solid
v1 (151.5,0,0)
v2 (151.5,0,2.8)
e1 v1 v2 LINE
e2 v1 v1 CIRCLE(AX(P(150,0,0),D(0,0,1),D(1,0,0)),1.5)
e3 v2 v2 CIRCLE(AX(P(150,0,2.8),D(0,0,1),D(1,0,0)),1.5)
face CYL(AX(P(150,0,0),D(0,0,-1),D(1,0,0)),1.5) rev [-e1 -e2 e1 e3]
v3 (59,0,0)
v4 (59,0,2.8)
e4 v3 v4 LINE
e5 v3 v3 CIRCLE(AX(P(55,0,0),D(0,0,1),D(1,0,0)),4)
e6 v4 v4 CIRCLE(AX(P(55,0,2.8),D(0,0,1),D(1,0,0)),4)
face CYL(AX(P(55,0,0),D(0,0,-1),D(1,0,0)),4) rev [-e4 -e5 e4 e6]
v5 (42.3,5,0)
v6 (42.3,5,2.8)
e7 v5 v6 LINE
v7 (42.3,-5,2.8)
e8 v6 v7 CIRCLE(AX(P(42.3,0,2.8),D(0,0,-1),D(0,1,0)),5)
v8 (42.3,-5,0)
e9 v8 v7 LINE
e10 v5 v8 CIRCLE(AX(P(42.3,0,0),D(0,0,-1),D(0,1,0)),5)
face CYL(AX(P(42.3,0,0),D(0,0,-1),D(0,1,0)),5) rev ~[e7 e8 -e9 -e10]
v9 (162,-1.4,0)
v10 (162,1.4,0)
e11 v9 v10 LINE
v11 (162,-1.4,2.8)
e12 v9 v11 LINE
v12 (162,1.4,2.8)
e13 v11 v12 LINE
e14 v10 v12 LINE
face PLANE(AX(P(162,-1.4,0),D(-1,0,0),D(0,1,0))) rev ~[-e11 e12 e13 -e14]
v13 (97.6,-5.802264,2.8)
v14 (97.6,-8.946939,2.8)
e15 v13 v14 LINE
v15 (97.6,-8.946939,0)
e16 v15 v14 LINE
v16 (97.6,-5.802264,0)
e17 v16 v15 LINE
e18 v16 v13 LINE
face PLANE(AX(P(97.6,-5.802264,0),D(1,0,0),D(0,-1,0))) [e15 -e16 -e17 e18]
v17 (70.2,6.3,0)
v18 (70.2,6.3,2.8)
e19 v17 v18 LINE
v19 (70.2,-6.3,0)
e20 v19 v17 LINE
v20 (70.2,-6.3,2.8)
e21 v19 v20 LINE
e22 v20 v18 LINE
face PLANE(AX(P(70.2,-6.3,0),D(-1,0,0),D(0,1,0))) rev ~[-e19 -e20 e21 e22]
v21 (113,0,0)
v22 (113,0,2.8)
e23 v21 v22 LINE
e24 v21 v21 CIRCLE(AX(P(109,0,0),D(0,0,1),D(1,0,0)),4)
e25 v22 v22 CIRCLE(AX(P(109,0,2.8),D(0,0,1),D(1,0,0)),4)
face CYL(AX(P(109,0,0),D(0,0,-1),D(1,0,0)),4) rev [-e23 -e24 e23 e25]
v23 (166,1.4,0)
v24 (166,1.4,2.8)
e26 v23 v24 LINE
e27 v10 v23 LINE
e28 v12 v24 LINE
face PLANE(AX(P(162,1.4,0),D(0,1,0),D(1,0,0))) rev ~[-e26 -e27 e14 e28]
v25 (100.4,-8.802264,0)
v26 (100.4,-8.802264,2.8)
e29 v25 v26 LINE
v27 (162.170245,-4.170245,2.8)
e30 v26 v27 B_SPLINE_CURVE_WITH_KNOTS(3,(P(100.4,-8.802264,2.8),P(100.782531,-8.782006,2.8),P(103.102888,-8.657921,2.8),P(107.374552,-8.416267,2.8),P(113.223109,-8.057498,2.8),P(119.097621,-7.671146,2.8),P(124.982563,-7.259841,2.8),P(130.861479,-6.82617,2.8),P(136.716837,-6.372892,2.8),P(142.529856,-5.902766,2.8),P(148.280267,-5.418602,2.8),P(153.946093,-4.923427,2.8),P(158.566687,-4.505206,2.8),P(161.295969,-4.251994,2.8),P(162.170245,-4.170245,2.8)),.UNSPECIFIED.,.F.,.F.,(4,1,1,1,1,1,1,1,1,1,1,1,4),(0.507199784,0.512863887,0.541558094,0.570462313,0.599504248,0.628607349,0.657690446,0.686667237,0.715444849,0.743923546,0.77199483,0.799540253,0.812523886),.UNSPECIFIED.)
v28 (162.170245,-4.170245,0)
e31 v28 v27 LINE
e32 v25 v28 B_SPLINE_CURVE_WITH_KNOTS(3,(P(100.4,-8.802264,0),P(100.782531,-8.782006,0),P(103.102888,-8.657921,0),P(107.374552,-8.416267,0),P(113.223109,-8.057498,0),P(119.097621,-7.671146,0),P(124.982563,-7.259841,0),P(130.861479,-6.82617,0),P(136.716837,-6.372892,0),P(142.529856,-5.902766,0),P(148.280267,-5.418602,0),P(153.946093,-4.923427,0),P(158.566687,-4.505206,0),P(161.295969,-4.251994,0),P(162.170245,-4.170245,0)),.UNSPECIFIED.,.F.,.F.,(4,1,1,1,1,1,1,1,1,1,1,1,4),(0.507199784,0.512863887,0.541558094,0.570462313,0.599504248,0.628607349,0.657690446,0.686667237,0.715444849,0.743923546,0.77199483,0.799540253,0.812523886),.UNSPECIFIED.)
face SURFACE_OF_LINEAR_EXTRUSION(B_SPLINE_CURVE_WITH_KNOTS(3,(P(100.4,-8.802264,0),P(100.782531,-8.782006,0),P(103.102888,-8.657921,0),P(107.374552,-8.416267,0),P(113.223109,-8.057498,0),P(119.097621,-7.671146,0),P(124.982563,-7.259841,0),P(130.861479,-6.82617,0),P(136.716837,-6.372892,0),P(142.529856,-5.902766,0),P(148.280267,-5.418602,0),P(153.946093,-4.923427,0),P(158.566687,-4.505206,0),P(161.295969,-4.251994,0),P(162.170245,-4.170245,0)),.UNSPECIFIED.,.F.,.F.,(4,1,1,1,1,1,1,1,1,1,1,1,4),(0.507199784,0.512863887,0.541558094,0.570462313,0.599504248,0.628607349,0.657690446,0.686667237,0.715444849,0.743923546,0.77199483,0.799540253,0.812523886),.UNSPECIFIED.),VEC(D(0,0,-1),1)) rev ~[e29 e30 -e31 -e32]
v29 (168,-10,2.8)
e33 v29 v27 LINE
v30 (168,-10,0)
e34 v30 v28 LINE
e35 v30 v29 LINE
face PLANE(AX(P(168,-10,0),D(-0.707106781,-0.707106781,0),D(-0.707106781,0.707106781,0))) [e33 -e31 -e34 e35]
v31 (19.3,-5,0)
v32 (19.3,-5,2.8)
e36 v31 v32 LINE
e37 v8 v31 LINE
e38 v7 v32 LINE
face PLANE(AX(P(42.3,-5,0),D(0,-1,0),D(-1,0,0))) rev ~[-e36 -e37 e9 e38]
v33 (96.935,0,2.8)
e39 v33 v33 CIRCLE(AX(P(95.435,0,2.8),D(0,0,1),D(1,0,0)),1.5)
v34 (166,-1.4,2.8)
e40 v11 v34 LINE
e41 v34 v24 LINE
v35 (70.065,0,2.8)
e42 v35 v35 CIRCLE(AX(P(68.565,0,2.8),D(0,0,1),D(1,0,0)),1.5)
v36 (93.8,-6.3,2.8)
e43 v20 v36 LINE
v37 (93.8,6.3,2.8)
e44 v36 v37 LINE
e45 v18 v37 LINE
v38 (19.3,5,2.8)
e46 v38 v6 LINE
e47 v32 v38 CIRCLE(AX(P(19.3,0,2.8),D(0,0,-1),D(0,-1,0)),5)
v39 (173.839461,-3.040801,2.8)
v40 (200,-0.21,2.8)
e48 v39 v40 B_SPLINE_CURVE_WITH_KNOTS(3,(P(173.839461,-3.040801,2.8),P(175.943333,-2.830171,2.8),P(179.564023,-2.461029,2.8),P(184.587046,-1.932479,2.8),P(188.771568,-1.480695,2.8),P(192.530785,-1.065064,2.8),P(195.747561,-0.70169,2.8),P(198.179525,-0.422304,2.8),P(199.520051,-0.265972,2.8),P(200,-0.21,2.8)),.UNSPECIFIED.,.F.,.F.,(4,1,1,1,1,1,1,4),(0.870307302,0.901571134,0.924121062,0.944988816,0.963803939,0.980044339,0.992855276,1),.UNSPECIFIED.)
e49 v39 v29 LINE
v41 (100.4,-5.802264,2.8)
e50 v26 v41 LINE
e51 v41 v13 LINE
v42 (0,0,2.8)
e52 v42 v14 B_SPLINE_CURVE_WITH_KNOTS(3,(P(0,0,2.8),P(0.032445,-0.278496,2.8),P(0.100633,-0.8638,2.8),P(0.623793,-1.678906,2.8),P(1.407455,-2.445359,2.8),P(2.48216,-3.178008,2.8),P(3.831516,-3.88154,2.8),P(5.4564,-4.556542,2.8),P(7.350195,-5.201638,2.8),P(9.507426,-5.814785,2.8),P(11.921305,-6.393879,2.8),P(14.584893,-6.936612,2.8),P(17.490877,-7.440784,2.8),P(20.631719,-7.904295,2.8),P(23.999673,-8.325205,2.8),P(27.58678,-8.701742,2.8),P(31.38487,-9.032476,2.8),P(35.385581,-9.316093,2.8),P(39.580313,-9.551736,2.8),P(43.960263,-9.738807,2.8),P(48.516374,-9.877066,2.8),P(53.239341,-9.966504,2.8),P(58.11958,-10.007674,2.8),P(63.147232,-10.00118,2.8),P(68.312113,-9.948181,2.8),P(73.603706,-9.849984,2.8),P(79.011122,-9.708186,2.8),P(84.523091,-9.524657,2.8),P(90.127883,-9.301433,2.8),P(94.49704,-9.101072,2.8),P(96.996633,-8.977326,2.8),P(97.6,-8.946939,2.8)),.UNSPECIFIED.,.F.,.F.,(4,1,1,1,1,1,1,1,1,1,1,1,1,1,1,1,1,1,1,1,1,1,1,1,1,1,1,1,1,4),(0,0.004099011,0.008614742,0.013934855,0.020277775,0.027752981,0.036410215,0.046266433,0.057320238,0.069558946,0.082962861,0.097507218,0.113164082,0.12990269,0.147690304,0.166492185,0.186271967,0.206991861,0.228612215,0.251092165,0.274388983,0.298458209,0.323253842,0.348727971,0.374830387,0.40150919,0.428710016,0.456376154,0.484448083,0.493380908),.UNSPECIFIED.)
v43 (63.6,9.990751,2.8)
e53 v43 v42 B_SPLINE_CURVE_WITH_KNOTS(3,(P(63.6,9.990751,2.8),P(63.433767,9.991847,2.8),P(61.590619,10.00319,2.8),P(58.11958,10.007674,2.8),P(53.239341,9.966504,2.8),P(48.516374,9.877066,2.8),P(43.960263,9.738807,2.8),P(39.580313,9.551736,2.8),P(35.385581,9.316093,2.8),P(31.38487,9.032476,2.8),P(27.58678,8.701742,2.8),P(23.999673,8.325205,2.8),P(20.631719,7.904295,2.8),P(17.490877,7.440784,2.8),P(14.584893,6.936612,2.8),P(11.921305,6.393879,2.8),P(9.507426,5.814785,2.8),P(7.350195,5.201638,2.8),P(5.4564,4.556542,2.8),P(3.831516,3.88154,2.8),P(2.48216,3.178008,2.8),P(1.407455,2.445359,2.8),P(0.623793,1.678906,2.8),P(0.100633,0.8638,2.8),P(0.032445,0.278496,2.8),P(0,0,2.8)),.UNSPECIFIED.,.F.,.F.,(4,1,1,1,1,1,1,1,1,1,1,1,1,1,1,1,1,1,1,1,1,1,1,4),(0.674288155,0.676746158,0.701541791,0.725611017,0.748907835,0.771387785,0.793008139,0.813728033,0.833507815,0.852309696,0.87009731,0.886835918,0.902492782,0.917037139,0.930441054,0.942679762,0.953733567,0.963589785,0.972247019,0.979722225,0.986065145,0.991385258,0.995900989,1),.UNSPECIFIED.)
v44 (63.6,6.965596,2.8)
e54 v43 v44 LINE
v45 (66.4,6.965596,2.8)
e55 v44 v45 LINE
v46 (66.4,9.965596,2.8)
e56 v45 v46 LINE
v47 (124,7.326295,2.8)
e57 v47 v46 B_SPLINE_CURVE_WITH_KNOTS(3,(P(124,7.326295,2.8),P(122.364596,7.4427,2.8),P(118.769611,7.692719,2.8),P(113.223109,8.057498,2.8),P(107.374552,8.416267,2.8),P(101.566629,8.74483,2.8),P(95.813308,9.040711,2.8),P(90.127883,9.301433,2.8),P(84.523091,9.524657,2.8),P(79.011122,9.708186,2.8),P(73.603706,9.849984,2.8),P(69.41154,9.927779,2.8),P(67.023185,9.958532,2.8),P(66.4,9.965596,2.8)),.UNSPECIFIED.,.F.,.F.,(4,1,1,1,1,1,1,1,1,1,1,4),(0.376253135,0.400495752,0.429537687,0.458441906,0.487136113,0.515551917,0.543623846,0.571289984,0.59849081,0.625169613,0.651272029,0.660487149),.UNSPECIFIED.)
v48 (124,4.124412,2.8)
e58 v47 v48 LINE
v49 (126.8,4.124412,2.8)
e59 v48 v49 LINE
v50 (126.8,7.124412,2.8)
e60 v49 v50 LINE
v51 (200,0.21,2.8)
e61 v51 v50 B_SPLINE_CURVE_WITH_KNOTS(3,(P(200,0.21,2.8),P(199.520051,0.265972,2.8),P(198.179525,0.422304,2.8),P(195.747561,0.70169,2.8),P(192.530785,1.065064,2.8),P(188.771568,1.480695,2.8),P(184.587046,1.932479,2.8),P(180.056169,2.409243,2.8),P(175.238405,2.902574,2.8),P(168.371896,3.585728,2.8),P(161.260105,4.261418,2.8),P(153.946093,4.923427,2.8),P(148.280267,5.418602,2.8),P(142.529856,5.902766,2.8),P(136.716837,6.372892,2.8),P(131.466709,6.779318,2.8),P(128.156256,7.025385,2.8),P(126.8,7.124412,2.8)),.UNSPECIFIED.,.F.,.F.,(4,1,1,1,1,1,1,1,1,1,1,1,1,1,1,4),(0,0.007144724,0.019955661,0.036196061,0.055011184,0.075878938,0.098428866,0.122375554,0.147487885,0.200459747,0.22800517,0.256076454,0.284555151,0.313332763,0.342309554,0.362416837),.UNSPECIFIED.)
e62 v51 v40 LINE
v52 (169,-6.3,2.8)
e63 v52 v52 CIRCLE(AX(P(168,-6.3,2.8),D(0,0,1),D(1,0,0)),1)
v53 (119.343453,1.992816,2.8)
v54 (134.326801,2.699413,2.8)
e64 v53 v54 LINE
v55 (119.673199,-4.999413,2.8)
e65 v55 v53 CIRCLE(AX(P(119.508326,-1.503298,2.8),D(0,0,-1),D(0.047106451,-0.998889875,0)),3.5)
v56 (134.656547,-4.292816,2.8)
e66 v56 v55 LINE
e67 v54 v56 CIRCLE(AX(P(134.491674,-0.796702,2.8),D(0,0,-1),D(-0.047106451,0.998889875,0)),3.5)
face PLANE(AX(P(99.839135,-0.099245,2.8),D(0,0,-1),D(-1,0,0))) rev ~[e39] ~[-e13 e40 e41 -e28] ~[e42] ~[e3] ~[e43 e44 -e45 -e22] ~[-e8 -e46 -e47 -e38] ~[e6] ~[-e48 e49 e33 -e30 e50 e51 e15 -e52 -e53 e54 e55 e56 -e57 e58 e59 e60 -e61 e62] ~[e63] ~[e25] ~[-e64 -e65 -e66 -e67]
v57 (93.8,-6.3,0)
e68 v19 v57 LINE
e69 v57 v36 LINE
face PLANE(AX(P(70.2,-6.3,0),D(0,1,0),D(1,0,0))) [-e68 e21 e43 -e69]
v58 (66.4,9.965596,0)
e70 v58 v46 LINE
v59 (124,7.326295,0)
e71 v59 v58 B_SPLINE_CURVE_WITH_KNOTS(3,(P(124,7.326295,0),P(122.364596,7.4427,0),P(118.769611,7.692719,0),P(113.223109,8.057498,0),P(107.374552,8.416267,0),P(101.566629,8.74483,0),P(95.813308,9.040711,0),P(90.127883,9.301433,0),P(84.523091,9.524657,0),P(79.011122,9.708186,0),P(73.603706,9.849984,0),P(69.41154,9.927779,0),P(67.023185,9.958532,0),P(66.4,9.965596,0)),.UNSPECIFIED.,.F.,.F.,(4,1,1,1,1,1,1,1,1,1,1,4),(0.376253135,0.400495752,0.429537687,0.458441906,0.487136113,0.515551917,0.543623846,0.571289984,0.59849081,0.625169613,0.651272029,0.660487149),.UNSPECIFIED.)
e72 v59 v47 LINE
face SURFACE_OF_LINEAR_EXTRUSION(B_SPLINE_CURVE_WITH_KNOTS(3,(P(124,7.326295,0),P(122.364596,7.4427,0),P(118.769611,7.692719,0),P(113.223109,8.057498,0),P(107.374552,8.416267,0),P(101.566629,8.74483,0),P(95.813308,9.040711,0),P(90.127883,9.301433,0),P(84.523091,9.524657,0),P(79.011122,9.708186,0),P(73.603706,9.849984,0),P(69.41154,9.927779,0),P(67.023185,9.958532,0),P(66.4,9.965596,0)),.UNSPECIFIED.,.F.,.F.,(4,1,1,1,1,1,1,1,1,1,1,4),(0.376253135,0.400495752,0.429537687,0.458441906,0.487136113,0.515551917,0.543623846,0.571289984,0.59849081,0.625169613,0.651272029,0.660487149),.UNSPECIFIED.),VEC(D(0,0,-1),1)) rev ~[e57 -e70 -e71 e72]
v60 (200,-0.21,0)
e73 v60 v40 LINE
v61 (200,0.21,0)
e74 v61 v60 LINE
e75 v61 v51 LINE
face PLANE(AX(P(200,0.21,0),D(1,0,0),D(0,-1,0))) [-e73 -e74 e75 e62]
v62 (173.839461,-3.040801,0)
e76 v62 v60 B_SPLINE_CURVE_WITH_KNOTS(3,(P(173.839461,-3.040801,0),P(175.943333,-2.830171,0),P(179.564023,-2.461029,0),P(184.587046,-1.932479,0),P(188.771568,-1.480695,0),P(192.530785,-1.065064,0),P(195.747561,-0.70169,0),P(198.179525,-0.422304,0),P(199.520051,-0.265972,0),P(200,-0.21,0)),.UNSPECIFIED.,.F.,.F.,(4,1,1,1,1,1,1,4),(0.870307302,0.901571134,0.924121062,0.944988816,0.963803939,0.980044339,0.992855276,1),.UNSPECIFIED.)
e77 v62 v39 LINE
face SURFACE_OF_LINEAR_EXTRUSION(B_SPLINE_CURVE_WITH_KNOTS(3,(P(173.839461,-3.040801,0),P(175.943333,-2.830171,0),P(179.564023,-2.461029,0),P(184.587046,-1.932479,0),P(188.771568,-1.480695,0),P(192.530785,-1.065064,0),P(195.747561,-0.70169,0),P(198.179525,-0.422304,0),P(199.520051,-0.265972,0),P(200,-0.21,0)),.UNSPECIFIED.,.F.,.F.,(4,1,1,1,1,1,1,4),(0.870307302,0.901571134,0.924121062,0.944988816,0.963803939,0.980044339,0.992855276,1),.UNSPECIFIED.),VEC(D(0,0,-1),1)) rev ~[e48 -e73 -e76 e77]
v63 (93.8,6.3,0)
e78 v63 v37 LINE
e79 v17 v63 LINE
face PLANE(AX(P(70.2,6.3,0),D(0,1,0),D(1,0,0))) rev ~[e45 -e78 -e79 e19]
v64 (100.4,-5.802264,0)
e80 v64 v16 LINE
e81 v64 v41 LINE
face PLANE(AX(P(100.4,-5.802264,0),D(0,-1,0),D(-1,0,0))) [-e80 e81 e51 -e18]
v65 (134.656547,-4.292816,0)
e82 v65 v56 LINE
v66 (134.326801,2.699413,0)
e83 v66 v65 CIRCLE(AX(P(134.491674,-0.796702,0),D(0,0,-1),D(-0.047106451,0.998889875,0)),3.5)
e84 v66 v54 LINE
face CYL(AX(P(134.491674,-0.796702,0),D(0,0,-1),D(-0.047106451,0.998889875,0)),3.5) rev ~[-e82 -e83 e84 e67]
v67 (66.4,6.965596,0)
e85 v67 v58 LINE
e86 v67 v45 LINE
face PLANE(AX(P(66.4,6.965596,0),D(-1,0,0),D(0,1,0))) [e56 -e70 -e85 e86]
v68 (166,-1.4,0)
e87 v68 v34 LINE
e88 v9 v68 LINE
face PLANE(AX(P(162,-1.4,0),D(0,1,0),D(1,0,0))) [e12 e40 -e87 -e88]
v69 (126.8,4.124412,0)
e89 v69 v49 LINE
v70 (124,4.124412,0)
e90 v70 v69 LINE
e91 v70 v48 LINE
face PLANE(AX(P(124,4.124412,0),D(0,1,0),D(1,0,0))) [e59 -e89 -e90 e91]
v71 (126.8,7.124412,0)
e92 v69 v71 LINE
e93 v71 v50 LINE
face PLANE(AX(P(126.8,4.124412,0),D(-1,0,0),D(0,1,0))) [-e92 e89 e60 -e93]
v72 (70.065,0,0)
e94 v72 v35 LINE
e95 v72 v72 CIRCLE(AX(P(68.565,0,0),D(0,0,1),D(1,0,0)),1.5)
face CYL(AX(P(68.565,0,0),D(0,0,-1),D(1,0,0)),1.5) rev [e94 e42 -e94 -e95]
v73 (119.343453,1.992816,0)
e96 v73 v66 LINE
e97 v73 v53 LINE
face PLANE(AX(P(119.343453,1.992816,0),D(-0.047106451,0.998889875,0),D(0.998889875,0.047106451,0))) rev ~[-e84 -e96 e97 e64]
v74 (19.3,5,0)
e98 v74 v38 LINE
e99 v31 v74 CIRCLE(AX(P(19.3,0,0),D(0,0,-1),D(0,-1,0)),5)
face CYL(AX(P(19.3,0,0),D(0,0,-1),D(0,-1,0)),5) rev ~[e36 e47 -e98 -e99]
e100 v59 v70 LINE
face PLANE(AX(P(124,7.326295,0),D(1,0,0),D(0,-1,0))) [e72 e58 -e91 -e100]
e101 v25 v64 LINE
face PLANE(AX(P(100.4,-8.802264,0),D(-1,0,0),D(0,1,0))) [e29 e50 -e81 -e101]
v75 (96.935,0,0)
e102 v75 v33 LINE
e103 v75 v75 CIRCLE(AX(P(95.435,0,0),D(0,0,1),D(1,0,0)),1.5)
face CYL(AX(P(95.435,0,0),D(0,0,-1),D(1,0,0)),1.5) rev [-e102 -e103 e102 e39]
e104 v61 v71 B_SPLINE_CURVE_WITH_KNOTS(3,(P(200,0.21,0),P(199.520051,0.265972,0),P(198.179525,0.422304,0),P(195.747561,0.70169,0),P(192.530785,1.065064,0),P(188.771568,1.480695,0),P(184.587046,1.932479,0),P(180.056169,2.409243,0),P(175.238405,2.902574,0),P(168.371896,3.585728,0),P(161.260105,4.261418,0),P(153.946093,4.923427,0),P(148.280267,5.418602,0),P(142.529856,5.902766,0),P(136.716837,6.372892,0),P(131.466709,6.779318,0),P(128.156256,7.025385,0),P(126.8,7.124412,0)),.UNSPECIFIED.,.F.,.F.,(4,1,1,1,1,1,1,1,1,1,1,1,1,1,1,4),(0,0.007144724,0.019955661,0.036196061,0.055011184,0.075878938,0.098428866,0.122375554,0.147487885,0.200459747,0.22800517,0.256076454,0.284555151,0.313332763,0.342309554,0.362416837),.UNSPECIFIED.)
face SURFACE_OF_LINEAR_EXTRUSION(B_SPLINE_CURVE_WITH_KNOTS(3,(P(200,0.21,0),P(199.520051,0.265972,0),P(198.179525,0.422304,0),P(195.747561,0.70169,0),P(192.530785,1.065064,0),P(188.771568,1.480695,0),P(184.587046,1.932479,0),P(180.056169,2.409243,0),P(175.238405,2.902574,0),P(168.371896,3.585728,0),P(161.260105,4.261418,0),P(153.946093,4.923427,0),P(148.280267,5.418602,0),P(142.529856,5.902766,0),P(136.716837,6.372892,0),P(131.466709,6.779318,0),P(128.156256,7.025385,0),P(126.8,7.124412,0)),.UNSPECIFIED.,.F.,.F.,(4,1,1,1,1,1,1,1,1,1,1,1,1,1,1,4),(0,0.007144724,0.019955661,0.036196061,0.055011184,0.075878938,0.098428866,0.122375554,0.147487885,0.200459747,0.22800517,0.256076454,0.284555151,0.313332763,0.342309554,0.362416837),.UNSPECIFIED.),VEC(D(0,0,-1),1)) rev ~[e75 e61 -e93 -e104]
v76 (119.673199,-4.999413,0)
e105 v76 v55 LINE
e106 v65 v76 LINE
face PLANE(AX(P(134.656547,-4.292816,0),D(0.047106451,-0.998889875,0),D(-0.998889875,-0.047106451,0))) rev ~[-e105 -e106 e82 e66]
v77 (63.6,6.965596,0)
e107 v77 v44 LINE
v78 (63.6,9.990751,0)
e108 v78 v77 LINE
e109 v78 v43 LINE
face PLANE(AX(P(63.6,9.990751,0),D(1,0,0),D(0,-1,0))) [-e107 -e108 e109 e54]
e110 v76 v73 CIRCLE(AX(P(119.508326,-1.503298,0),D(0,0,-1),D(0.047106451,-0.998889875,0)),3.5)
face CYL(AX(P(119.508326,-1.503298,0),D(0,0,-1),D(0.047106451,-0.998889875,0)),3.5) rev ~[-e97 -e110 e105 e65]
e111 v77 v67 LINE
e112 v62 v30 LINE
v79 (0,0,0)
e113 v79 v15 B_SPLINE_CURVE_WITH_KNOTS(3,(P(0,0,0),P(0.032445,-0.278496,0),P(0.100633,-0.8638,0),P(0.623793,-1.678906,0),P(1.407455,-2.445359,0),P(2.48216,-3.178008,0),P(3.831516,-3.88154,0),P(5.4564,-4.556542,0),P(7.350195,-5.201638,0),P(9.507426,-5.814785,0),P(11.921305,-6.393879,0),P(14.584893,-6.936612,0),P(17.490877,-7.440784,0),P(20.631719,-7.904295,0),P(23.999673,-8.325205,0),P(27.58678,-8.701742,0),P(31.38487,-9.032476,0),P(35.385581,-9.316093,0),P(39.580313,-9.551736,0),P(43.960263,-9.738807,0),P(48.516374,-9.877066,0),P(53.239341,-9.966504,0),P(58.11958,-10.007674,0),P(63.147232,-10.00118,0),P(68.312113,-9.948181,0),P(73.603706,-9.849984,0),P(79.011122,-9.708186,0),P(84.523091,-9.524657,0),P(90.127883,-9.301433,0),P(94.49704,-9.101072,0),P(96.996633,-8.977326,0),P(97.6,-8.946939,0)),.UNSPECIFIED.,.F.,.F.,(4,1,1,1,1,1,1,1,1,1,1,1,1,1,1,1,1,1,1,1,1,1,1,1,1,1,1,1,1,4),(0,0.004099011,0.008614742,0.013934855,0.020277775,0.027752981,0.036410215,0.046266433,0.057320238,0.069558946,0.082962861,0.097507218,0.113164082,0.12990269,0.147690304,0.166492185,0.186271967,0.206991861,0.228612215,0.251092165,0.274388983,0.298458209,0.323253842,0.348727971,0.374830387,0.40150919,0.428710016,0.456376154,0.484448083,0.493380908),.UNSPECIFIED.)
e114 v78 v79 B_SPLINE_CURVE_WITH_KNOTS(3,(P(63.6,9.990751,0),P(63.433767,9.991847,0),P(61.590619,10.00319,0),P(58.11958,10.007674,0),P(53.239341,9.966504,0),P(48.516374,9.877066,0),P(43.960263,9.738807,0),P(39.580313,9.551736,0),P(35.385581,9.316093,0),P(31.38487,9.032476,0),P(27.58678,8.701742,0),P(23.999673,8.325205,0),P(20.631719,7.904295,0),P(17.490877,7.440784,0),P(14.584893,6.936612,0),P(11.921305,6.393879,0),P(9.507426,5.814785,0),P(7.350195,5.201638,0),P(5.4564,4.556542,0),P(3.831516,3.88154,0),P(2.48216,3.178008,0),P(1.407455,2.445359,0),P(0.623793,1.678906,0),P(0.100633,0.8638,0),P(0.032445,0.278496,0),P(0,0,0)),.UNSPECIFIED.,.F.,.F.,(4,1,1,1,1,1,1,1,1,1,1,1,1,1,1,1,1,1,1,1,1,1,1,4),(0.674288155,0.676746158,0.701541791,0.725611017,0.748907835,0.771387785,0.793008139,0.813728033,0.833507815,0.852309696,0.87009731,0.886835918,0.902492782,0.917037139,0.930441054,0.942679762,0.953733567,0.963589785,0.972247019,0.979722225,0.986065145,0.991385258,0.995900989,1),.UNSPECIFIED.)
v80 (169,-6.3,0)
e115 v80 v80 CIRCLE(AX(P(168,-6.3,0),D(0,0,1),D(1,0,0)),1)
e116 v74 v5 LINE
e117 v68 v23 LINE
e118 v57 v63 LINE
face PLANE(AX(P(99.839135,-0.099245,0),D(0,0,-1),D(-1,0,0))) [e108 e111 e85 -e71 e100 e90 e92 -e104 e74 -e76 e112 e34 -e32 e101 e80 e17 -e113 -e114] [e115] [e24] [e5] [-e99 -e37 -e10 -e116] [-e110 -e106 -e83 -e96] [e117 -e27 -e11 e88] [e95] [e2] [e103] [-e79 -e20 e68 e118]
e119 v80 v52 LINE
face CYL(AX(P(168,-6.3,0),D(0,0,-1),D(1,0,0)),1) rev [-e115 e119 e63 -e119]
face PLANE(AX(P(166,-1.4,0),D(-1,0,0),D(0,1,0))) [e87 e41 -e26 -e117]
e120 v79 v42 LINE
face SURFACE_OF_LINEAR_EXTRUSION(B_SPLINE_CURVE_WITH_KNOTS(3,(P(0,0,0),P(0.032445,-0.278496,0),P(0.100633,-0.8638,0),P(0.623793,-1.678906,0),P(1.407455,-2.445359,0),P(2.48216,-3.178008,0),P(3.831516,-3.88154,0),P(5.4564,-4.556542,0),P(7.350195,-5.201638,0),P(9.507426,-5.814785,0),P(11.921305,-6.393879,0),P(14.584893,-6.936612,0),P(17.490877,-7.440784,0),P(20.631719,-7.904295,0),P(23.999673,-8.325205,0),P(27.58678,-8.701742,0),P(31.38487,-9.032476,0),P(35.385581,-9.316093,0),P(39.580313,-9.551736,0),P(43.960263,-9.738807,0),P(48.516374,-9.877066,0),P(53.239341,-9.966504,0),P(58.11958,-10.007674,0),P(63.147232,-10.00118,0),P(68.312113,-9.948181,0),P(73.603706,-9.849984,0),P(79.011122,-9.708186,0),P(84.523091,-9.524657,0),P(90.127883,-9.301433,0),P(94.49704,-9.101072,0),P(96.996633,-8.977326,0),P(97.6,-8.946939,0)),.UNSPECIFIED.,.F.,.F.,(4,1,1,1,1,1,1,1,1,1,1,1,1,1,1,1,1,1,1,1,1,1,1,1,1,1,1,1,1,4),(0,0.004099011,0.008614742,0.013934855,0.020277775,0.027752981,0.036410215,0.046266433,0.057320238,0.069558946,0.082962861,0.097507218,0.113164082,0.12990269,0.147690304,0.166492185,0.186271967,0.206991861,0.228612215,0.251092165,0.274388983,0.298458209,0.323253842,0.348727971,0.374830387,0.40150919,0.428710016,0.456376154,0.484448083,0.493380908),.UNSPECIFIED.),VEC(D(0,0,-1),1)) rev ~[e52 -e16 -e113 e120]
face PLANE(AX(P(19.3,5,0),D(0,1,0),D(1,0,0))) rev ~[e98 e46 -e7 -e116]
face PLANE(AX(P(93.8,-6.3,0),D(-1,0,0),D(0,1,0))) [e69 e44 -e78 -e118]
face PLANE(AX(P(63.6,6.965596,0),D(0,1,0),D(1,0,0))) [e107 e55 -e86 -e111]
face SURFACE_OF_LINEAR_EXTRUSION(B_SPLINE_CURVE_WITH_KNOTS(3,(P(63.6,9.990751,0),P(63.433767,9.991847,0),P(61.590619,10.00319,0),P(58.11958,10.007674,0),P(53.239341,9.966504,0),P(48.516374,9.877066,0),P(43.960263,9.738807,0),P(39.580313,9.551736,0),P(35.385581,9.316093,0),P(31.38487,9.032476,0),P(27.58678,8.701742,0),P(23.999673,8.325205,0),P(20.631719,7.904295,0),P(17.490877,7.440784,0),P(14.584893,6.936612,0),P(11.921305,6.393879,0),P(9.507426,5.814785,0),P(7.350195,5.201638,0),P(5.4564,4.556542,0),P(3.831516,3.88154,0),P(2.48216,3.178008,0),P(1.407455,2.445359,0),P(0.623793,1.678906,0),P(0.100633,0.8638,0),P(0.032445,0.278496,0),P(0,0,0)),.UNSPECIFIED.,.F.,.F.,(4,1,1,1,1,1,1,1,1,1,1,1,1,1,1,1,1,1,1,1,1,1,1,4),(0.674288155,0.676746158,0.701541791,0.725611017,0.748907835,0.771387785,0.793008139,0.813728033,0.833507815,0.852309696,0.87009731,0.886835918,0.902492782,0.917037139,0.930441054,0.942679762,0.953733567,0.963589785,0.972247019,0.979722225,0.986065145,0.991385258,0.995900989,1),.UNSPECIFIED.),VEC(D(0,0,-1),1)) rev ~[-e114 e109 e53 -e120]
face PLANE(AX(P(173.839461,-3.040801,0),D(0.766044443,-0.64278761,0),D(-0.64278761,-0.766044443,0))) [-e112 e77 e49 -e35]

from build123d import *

# Parameters (mm, degrees)
SKETCH_3_R      = 4
SKETCH_3_R_2    = 1.5
SKETCH_3_R_3    = 1
SKETCH_3_W      = 23.6
SKETCH_3_H      = 12.6
SKETCH_3_W_2    = 4
SKETCH_3_H_2    = 2.8
EXTRUDE_3_DEPTH = 2.8


with BuildPart() as part:
    # Эскиз3 → Бобышка-Вытянуть3 (new body)
    with BuildSketch(Plane.XY):
        with BuildLine():
            Line((200, 0.21), (200, -0.21))
            add(Edge.make_bspline(
                [(173.839461144, -3.040801203), (175.943333039, -2.830170954), (179.564023078, -2.461029339), (184.58704572, -1.932479181), (188.771568451, -1.480695182), (192.530784687, -1.065063842), (195.747560944, -0.701689979), (198.179524953, -0.422303954), (199.520051416, -0.265971644), (200, -0.21)],
                knots=[0.870307302, 0.870307302, 0.870307302, 0.870307302, 0.901571134, 0.924121062, 0.944988816, 0.963803939, 0.980044339, 0.992855276, 1, 1, 1, 1], degree=3))
            Line((173.839461144, -3.040801203), (168, -10))
            Line((168, -10), (162.170244806, -4.170244806))
            add(Edge.make_bspline(
                [(100.4, -8.802264), (100.782530515, -8.78200637), (103.102887785, -8.657921344), (107.374551667, -8.416266925), (113.223109349, -8.057497647), (119.097620698, -7.671146294), (124.98256269, -7.259840679), (130.861479372, -6.826169971), (136.716836604, -6.372892076), (142.52985565, -5.902766003), (148.280267017, -5.418602057), (153.94609331, -4.923426646), (158.566687276, -4.50520567), (161.295968592, -4.251994411), (162.170244806, -4.170244806)],
                knots=[0.507199784, 0.507199784, 0.507199784, 0.507199784, 0.512863887, 0.541558094, 0.570462313, 0.599504248, 0.628607349, 0.657690446, 0.686667237, 0.715444849, 0.743923546, 0.77199483, 0.799540253, 0.812523886, 0.812523886, 0.812523886, 0.812523886], degree=3))
            Line((100.4, -8.802264), (100.4, -5.802264))
            Line((100.4, -5.802264), (97.6, -5.802264))
            Line((97.6, -5.802264), (97.6, -8.946938935))
            add(Edge.make_bspline(
                [(0, 0), (0.032444913, -0.278495812), (0.100633198, -0.863800259), (0.62379252, -1.678905598), (1.407454518, -2.445359098), (2.48215991, -3.178007515), (3.831515725, -3.88154028), (5.45639967, -4.556541724), (7.350195056, -5.201638101), (9.507426038, -5.81478546), (11.921305119, -6.393879384), (14.58489291, -6.936612431), (17.490877441, -7.44078362), (20.631718928, -7.904294519), (23.999672572, -8.325205071), (27.586779877, -8.701741845), (31.384869897, -9.032475932), (35.385580653, -9.316092874), (39.580313292, -9.551735955), (43.960263434, -9.738807032), (48.51637403, -9.877065972), (53.239340889, -9.96650448), (58.119580475, -10.007674079), (63.147232299, -10.001179647), (68.312112852, -9.948180779), (73.603706202, -9.849984193), (79.011121778, -9.708185508), (84.52309051, -9.524657051), (90.127882502, -9.301433286), (94.497039971, -9.101072496), (96.996632606, -8.97732649), (97.6, -8.946938935)],
                knots=[0, 0, 0, 0, 0.004099011, 0.008614742, 0.013934855, 0.020277775, 0.027752981, 0.036410215, 0.046266433, 0.057320238, 0.069558946, 0.082962861, 0.097507218, 0.113164082, 0.12990269, 0.147690304, 0.166492185, 0.186271967, 0.206991861, 0.228612215, 0.251092165, 0.274388983, 0.298458209, 0.323253842, 0.348727971, 0.374830387, 0.40150919, 0.428710016, 0.456376154, 0.484448083, 0.493380908, 0.493380908, 0.493380908, 0.493380908], degree=3))
            add(Edge.make_bspline(
                [(63.6, 9.990751447), (63.433767139, 9.991846739), (61.590618822, 10.003190391), (58.119580475, 10.007674079), (53.239340889, 9.96650448), (48.51637403, 9.877065972), (43.960263434, 9.738807032), (39.580313292, 9.551735955), (35.385580653, 9.316092874), (31.384869897, 9.032475932), (27.586779877, 8.701741845), (23.999672572, 8.325205071), (20.631718928, 7.904294519), (17.490877441, 7.44078362), (14.58489291, 6.936612431), (11.921305119, 6.393879384), (9.507426038, 5.81478546), (7.350195056, 5.201638101), (5.45639967, 4.556541724), (3.831515725, 3.88154028), (2.48215991, 3.178007515), (1.407454518, 2.445359098), (0.62379252, 1.678905598), (0.100633198, 0.863800259), (0.032444913, 0.278495812), (0, 0)],
                knots=[0.674288155, 0.674288155, 0.674288155, 0.674288155, 0.676746158, 0.701541791, 0.725611017, 0.748907835, 0.771387785, 0.793008139, 0.813728033, 0.833507815, 0.852309696, 0.87009731, 0.886835918, 0.902492782, 0.917037139, 0.930441054, 0.942679762, 0.953733567, 0.963589785, 0.972247019, 0.979722225, 0.986065145, 0.991385258, 0.995900989, 1, 1, 1, 1], degree=3))
            Line((63.6, 9.990751447), (63.6, 6.965595937))
            Line((63.6, 6.965595937), (66.4, 6.965595937))
            Line((66.4, 6.965595937), (66.4, 9.965595937))
            add(Edge.make_bspline(
                [(124, 7.326294797), (122.364596134, 7.442700413), (118.769611386, 7.692718614), (113.223109349, 8.057497647), (107.374551667, 8.416266925), (101.566628903, 8.744829808), (95.813307617, 9.040711105), (90.127882502, 9.301433286), (84.52309051, 9.524657051), (79.011121778, 9.708185508), (73.603706202, 9.849984193), (69.41154014, 9.927778606), (67.023185068, 9.958531818), (66.4, 9.965595937)],
                knots=[0.376253135, 0.376253135, 0.376253135, 0.376253135, 0.400495752, 0.429537687, 0.458441906, 0.487136113, 0.515551917, 0.543623846, 0.571289984, 0.59849081, 0.625169613, 0.651272029, 0.660487149, 0.660487149, 0.660487149, 0.660487149], degree=3))
            Line((124, 7.326294797), (124, 4.124412105))
            Line((124, 4.124412105), (126.8, 4.124412105))
            Line((126.8, 4.124412105), (126.8, 7.124412105))
            add(Edge.make_bspline(
                [(200, 0.21), (199.520051416, 0.265971644), (198.179524953, 0.422303954), (195.747560944, 0.701689979), (192.530784687, 1.065063842), (188.771568451, 1.480695182), (184.58704572, 1.932479181), (180.05616868, 2.409243063), (175.238405485, 2.90257428), (168.371896377, 3.585728287), (161.260104983, 4.261418012), (153.94609331, 4.923426646), (148.280267017, 5.418602057), (142.52985565, 5.902766003), (136.716836604, 6.372892076), (131.466708661, 6.779317653), (128.156255998, 7.025385403), (126.8, 7.124412105)],
                knots=[0, 0, 0, 0, 0.007144724, 0.019955661, 0.036196061, 0.055011184, 0.075878938, 0.098428866, 0.122375554, 0.147487885, 0.200459747, 0.22800517, 0.256076454, 0.284555151, 0.313332763, 0.342309554, 0.362416837, 0.362416837, 0.362416837, 0.362416837], degree=3))
        make_face()
        with Locations((109, 0)):
            Circle(SKETCH_3_R, mode=Mode.SUBTRACT)
        with Locations((55, 0)):
            Circle(SKETCH_3_R, mode=Mode.SUBTRACT)
        with Locations((150, 0)):
            Circle(SKETCH_3_R_2, mode=Mode.SUBTRACT)
        with Locations((68.565, 0)):
            Circle(SKETCH_3_R_2, mode=Mode.SUBTRACT)
        with Locations((95.435, 0)):
            Circle(SKETCH_3_R_2, mode=Mode.SUBTRACT)
        with Locations((168, -6.3)):
            Circle(SKETCH_3_R_3, mode=Mode.SUBTRACT)
        with BuildLine():
            Line((19.3, 5), (42.3, 5))
            ThreePointArc((42.3, 5), (47.3, 0), (42.3, -5))
            Line((42.3, -5), (19.3, -5))
            ThreePointArc((19.3, -5), (14.3, 0), (19.3, 5))
        make_face(mode=Mode.SUBTRACT)
        with BuildLine():
            Line((119.34345336, 1.992816182), (134.326801485, 2.699412943))
            ThreePointArc((134.326801485, 2.699412943), (137.987788625, -0.631829042), (134.65654664, -4.292816182))
            Line((134.65654664, -4.292816182), (119.673198515, -4.999412943))
            ThreePointArc((119.673198515, -4.999412943), (116.012211375, -1.668170958), (119.34345336, 1.992816182))
        make_face(mode=Mode.SUBTRACT)
        with Locations((82, 0)):
            Rectangle(SKETCH_3_W, SKETCH_3_H, mode=Mode.SUBTRACT)
        with Locations((164, 0)):
            Rectangle(SKETCH_3_W_2, SKETCH_3_H_2, mode=Mode.SUBTRACT)
    extrude(amount=EXTRUDE_3_DEPTH)


solid = part.part
